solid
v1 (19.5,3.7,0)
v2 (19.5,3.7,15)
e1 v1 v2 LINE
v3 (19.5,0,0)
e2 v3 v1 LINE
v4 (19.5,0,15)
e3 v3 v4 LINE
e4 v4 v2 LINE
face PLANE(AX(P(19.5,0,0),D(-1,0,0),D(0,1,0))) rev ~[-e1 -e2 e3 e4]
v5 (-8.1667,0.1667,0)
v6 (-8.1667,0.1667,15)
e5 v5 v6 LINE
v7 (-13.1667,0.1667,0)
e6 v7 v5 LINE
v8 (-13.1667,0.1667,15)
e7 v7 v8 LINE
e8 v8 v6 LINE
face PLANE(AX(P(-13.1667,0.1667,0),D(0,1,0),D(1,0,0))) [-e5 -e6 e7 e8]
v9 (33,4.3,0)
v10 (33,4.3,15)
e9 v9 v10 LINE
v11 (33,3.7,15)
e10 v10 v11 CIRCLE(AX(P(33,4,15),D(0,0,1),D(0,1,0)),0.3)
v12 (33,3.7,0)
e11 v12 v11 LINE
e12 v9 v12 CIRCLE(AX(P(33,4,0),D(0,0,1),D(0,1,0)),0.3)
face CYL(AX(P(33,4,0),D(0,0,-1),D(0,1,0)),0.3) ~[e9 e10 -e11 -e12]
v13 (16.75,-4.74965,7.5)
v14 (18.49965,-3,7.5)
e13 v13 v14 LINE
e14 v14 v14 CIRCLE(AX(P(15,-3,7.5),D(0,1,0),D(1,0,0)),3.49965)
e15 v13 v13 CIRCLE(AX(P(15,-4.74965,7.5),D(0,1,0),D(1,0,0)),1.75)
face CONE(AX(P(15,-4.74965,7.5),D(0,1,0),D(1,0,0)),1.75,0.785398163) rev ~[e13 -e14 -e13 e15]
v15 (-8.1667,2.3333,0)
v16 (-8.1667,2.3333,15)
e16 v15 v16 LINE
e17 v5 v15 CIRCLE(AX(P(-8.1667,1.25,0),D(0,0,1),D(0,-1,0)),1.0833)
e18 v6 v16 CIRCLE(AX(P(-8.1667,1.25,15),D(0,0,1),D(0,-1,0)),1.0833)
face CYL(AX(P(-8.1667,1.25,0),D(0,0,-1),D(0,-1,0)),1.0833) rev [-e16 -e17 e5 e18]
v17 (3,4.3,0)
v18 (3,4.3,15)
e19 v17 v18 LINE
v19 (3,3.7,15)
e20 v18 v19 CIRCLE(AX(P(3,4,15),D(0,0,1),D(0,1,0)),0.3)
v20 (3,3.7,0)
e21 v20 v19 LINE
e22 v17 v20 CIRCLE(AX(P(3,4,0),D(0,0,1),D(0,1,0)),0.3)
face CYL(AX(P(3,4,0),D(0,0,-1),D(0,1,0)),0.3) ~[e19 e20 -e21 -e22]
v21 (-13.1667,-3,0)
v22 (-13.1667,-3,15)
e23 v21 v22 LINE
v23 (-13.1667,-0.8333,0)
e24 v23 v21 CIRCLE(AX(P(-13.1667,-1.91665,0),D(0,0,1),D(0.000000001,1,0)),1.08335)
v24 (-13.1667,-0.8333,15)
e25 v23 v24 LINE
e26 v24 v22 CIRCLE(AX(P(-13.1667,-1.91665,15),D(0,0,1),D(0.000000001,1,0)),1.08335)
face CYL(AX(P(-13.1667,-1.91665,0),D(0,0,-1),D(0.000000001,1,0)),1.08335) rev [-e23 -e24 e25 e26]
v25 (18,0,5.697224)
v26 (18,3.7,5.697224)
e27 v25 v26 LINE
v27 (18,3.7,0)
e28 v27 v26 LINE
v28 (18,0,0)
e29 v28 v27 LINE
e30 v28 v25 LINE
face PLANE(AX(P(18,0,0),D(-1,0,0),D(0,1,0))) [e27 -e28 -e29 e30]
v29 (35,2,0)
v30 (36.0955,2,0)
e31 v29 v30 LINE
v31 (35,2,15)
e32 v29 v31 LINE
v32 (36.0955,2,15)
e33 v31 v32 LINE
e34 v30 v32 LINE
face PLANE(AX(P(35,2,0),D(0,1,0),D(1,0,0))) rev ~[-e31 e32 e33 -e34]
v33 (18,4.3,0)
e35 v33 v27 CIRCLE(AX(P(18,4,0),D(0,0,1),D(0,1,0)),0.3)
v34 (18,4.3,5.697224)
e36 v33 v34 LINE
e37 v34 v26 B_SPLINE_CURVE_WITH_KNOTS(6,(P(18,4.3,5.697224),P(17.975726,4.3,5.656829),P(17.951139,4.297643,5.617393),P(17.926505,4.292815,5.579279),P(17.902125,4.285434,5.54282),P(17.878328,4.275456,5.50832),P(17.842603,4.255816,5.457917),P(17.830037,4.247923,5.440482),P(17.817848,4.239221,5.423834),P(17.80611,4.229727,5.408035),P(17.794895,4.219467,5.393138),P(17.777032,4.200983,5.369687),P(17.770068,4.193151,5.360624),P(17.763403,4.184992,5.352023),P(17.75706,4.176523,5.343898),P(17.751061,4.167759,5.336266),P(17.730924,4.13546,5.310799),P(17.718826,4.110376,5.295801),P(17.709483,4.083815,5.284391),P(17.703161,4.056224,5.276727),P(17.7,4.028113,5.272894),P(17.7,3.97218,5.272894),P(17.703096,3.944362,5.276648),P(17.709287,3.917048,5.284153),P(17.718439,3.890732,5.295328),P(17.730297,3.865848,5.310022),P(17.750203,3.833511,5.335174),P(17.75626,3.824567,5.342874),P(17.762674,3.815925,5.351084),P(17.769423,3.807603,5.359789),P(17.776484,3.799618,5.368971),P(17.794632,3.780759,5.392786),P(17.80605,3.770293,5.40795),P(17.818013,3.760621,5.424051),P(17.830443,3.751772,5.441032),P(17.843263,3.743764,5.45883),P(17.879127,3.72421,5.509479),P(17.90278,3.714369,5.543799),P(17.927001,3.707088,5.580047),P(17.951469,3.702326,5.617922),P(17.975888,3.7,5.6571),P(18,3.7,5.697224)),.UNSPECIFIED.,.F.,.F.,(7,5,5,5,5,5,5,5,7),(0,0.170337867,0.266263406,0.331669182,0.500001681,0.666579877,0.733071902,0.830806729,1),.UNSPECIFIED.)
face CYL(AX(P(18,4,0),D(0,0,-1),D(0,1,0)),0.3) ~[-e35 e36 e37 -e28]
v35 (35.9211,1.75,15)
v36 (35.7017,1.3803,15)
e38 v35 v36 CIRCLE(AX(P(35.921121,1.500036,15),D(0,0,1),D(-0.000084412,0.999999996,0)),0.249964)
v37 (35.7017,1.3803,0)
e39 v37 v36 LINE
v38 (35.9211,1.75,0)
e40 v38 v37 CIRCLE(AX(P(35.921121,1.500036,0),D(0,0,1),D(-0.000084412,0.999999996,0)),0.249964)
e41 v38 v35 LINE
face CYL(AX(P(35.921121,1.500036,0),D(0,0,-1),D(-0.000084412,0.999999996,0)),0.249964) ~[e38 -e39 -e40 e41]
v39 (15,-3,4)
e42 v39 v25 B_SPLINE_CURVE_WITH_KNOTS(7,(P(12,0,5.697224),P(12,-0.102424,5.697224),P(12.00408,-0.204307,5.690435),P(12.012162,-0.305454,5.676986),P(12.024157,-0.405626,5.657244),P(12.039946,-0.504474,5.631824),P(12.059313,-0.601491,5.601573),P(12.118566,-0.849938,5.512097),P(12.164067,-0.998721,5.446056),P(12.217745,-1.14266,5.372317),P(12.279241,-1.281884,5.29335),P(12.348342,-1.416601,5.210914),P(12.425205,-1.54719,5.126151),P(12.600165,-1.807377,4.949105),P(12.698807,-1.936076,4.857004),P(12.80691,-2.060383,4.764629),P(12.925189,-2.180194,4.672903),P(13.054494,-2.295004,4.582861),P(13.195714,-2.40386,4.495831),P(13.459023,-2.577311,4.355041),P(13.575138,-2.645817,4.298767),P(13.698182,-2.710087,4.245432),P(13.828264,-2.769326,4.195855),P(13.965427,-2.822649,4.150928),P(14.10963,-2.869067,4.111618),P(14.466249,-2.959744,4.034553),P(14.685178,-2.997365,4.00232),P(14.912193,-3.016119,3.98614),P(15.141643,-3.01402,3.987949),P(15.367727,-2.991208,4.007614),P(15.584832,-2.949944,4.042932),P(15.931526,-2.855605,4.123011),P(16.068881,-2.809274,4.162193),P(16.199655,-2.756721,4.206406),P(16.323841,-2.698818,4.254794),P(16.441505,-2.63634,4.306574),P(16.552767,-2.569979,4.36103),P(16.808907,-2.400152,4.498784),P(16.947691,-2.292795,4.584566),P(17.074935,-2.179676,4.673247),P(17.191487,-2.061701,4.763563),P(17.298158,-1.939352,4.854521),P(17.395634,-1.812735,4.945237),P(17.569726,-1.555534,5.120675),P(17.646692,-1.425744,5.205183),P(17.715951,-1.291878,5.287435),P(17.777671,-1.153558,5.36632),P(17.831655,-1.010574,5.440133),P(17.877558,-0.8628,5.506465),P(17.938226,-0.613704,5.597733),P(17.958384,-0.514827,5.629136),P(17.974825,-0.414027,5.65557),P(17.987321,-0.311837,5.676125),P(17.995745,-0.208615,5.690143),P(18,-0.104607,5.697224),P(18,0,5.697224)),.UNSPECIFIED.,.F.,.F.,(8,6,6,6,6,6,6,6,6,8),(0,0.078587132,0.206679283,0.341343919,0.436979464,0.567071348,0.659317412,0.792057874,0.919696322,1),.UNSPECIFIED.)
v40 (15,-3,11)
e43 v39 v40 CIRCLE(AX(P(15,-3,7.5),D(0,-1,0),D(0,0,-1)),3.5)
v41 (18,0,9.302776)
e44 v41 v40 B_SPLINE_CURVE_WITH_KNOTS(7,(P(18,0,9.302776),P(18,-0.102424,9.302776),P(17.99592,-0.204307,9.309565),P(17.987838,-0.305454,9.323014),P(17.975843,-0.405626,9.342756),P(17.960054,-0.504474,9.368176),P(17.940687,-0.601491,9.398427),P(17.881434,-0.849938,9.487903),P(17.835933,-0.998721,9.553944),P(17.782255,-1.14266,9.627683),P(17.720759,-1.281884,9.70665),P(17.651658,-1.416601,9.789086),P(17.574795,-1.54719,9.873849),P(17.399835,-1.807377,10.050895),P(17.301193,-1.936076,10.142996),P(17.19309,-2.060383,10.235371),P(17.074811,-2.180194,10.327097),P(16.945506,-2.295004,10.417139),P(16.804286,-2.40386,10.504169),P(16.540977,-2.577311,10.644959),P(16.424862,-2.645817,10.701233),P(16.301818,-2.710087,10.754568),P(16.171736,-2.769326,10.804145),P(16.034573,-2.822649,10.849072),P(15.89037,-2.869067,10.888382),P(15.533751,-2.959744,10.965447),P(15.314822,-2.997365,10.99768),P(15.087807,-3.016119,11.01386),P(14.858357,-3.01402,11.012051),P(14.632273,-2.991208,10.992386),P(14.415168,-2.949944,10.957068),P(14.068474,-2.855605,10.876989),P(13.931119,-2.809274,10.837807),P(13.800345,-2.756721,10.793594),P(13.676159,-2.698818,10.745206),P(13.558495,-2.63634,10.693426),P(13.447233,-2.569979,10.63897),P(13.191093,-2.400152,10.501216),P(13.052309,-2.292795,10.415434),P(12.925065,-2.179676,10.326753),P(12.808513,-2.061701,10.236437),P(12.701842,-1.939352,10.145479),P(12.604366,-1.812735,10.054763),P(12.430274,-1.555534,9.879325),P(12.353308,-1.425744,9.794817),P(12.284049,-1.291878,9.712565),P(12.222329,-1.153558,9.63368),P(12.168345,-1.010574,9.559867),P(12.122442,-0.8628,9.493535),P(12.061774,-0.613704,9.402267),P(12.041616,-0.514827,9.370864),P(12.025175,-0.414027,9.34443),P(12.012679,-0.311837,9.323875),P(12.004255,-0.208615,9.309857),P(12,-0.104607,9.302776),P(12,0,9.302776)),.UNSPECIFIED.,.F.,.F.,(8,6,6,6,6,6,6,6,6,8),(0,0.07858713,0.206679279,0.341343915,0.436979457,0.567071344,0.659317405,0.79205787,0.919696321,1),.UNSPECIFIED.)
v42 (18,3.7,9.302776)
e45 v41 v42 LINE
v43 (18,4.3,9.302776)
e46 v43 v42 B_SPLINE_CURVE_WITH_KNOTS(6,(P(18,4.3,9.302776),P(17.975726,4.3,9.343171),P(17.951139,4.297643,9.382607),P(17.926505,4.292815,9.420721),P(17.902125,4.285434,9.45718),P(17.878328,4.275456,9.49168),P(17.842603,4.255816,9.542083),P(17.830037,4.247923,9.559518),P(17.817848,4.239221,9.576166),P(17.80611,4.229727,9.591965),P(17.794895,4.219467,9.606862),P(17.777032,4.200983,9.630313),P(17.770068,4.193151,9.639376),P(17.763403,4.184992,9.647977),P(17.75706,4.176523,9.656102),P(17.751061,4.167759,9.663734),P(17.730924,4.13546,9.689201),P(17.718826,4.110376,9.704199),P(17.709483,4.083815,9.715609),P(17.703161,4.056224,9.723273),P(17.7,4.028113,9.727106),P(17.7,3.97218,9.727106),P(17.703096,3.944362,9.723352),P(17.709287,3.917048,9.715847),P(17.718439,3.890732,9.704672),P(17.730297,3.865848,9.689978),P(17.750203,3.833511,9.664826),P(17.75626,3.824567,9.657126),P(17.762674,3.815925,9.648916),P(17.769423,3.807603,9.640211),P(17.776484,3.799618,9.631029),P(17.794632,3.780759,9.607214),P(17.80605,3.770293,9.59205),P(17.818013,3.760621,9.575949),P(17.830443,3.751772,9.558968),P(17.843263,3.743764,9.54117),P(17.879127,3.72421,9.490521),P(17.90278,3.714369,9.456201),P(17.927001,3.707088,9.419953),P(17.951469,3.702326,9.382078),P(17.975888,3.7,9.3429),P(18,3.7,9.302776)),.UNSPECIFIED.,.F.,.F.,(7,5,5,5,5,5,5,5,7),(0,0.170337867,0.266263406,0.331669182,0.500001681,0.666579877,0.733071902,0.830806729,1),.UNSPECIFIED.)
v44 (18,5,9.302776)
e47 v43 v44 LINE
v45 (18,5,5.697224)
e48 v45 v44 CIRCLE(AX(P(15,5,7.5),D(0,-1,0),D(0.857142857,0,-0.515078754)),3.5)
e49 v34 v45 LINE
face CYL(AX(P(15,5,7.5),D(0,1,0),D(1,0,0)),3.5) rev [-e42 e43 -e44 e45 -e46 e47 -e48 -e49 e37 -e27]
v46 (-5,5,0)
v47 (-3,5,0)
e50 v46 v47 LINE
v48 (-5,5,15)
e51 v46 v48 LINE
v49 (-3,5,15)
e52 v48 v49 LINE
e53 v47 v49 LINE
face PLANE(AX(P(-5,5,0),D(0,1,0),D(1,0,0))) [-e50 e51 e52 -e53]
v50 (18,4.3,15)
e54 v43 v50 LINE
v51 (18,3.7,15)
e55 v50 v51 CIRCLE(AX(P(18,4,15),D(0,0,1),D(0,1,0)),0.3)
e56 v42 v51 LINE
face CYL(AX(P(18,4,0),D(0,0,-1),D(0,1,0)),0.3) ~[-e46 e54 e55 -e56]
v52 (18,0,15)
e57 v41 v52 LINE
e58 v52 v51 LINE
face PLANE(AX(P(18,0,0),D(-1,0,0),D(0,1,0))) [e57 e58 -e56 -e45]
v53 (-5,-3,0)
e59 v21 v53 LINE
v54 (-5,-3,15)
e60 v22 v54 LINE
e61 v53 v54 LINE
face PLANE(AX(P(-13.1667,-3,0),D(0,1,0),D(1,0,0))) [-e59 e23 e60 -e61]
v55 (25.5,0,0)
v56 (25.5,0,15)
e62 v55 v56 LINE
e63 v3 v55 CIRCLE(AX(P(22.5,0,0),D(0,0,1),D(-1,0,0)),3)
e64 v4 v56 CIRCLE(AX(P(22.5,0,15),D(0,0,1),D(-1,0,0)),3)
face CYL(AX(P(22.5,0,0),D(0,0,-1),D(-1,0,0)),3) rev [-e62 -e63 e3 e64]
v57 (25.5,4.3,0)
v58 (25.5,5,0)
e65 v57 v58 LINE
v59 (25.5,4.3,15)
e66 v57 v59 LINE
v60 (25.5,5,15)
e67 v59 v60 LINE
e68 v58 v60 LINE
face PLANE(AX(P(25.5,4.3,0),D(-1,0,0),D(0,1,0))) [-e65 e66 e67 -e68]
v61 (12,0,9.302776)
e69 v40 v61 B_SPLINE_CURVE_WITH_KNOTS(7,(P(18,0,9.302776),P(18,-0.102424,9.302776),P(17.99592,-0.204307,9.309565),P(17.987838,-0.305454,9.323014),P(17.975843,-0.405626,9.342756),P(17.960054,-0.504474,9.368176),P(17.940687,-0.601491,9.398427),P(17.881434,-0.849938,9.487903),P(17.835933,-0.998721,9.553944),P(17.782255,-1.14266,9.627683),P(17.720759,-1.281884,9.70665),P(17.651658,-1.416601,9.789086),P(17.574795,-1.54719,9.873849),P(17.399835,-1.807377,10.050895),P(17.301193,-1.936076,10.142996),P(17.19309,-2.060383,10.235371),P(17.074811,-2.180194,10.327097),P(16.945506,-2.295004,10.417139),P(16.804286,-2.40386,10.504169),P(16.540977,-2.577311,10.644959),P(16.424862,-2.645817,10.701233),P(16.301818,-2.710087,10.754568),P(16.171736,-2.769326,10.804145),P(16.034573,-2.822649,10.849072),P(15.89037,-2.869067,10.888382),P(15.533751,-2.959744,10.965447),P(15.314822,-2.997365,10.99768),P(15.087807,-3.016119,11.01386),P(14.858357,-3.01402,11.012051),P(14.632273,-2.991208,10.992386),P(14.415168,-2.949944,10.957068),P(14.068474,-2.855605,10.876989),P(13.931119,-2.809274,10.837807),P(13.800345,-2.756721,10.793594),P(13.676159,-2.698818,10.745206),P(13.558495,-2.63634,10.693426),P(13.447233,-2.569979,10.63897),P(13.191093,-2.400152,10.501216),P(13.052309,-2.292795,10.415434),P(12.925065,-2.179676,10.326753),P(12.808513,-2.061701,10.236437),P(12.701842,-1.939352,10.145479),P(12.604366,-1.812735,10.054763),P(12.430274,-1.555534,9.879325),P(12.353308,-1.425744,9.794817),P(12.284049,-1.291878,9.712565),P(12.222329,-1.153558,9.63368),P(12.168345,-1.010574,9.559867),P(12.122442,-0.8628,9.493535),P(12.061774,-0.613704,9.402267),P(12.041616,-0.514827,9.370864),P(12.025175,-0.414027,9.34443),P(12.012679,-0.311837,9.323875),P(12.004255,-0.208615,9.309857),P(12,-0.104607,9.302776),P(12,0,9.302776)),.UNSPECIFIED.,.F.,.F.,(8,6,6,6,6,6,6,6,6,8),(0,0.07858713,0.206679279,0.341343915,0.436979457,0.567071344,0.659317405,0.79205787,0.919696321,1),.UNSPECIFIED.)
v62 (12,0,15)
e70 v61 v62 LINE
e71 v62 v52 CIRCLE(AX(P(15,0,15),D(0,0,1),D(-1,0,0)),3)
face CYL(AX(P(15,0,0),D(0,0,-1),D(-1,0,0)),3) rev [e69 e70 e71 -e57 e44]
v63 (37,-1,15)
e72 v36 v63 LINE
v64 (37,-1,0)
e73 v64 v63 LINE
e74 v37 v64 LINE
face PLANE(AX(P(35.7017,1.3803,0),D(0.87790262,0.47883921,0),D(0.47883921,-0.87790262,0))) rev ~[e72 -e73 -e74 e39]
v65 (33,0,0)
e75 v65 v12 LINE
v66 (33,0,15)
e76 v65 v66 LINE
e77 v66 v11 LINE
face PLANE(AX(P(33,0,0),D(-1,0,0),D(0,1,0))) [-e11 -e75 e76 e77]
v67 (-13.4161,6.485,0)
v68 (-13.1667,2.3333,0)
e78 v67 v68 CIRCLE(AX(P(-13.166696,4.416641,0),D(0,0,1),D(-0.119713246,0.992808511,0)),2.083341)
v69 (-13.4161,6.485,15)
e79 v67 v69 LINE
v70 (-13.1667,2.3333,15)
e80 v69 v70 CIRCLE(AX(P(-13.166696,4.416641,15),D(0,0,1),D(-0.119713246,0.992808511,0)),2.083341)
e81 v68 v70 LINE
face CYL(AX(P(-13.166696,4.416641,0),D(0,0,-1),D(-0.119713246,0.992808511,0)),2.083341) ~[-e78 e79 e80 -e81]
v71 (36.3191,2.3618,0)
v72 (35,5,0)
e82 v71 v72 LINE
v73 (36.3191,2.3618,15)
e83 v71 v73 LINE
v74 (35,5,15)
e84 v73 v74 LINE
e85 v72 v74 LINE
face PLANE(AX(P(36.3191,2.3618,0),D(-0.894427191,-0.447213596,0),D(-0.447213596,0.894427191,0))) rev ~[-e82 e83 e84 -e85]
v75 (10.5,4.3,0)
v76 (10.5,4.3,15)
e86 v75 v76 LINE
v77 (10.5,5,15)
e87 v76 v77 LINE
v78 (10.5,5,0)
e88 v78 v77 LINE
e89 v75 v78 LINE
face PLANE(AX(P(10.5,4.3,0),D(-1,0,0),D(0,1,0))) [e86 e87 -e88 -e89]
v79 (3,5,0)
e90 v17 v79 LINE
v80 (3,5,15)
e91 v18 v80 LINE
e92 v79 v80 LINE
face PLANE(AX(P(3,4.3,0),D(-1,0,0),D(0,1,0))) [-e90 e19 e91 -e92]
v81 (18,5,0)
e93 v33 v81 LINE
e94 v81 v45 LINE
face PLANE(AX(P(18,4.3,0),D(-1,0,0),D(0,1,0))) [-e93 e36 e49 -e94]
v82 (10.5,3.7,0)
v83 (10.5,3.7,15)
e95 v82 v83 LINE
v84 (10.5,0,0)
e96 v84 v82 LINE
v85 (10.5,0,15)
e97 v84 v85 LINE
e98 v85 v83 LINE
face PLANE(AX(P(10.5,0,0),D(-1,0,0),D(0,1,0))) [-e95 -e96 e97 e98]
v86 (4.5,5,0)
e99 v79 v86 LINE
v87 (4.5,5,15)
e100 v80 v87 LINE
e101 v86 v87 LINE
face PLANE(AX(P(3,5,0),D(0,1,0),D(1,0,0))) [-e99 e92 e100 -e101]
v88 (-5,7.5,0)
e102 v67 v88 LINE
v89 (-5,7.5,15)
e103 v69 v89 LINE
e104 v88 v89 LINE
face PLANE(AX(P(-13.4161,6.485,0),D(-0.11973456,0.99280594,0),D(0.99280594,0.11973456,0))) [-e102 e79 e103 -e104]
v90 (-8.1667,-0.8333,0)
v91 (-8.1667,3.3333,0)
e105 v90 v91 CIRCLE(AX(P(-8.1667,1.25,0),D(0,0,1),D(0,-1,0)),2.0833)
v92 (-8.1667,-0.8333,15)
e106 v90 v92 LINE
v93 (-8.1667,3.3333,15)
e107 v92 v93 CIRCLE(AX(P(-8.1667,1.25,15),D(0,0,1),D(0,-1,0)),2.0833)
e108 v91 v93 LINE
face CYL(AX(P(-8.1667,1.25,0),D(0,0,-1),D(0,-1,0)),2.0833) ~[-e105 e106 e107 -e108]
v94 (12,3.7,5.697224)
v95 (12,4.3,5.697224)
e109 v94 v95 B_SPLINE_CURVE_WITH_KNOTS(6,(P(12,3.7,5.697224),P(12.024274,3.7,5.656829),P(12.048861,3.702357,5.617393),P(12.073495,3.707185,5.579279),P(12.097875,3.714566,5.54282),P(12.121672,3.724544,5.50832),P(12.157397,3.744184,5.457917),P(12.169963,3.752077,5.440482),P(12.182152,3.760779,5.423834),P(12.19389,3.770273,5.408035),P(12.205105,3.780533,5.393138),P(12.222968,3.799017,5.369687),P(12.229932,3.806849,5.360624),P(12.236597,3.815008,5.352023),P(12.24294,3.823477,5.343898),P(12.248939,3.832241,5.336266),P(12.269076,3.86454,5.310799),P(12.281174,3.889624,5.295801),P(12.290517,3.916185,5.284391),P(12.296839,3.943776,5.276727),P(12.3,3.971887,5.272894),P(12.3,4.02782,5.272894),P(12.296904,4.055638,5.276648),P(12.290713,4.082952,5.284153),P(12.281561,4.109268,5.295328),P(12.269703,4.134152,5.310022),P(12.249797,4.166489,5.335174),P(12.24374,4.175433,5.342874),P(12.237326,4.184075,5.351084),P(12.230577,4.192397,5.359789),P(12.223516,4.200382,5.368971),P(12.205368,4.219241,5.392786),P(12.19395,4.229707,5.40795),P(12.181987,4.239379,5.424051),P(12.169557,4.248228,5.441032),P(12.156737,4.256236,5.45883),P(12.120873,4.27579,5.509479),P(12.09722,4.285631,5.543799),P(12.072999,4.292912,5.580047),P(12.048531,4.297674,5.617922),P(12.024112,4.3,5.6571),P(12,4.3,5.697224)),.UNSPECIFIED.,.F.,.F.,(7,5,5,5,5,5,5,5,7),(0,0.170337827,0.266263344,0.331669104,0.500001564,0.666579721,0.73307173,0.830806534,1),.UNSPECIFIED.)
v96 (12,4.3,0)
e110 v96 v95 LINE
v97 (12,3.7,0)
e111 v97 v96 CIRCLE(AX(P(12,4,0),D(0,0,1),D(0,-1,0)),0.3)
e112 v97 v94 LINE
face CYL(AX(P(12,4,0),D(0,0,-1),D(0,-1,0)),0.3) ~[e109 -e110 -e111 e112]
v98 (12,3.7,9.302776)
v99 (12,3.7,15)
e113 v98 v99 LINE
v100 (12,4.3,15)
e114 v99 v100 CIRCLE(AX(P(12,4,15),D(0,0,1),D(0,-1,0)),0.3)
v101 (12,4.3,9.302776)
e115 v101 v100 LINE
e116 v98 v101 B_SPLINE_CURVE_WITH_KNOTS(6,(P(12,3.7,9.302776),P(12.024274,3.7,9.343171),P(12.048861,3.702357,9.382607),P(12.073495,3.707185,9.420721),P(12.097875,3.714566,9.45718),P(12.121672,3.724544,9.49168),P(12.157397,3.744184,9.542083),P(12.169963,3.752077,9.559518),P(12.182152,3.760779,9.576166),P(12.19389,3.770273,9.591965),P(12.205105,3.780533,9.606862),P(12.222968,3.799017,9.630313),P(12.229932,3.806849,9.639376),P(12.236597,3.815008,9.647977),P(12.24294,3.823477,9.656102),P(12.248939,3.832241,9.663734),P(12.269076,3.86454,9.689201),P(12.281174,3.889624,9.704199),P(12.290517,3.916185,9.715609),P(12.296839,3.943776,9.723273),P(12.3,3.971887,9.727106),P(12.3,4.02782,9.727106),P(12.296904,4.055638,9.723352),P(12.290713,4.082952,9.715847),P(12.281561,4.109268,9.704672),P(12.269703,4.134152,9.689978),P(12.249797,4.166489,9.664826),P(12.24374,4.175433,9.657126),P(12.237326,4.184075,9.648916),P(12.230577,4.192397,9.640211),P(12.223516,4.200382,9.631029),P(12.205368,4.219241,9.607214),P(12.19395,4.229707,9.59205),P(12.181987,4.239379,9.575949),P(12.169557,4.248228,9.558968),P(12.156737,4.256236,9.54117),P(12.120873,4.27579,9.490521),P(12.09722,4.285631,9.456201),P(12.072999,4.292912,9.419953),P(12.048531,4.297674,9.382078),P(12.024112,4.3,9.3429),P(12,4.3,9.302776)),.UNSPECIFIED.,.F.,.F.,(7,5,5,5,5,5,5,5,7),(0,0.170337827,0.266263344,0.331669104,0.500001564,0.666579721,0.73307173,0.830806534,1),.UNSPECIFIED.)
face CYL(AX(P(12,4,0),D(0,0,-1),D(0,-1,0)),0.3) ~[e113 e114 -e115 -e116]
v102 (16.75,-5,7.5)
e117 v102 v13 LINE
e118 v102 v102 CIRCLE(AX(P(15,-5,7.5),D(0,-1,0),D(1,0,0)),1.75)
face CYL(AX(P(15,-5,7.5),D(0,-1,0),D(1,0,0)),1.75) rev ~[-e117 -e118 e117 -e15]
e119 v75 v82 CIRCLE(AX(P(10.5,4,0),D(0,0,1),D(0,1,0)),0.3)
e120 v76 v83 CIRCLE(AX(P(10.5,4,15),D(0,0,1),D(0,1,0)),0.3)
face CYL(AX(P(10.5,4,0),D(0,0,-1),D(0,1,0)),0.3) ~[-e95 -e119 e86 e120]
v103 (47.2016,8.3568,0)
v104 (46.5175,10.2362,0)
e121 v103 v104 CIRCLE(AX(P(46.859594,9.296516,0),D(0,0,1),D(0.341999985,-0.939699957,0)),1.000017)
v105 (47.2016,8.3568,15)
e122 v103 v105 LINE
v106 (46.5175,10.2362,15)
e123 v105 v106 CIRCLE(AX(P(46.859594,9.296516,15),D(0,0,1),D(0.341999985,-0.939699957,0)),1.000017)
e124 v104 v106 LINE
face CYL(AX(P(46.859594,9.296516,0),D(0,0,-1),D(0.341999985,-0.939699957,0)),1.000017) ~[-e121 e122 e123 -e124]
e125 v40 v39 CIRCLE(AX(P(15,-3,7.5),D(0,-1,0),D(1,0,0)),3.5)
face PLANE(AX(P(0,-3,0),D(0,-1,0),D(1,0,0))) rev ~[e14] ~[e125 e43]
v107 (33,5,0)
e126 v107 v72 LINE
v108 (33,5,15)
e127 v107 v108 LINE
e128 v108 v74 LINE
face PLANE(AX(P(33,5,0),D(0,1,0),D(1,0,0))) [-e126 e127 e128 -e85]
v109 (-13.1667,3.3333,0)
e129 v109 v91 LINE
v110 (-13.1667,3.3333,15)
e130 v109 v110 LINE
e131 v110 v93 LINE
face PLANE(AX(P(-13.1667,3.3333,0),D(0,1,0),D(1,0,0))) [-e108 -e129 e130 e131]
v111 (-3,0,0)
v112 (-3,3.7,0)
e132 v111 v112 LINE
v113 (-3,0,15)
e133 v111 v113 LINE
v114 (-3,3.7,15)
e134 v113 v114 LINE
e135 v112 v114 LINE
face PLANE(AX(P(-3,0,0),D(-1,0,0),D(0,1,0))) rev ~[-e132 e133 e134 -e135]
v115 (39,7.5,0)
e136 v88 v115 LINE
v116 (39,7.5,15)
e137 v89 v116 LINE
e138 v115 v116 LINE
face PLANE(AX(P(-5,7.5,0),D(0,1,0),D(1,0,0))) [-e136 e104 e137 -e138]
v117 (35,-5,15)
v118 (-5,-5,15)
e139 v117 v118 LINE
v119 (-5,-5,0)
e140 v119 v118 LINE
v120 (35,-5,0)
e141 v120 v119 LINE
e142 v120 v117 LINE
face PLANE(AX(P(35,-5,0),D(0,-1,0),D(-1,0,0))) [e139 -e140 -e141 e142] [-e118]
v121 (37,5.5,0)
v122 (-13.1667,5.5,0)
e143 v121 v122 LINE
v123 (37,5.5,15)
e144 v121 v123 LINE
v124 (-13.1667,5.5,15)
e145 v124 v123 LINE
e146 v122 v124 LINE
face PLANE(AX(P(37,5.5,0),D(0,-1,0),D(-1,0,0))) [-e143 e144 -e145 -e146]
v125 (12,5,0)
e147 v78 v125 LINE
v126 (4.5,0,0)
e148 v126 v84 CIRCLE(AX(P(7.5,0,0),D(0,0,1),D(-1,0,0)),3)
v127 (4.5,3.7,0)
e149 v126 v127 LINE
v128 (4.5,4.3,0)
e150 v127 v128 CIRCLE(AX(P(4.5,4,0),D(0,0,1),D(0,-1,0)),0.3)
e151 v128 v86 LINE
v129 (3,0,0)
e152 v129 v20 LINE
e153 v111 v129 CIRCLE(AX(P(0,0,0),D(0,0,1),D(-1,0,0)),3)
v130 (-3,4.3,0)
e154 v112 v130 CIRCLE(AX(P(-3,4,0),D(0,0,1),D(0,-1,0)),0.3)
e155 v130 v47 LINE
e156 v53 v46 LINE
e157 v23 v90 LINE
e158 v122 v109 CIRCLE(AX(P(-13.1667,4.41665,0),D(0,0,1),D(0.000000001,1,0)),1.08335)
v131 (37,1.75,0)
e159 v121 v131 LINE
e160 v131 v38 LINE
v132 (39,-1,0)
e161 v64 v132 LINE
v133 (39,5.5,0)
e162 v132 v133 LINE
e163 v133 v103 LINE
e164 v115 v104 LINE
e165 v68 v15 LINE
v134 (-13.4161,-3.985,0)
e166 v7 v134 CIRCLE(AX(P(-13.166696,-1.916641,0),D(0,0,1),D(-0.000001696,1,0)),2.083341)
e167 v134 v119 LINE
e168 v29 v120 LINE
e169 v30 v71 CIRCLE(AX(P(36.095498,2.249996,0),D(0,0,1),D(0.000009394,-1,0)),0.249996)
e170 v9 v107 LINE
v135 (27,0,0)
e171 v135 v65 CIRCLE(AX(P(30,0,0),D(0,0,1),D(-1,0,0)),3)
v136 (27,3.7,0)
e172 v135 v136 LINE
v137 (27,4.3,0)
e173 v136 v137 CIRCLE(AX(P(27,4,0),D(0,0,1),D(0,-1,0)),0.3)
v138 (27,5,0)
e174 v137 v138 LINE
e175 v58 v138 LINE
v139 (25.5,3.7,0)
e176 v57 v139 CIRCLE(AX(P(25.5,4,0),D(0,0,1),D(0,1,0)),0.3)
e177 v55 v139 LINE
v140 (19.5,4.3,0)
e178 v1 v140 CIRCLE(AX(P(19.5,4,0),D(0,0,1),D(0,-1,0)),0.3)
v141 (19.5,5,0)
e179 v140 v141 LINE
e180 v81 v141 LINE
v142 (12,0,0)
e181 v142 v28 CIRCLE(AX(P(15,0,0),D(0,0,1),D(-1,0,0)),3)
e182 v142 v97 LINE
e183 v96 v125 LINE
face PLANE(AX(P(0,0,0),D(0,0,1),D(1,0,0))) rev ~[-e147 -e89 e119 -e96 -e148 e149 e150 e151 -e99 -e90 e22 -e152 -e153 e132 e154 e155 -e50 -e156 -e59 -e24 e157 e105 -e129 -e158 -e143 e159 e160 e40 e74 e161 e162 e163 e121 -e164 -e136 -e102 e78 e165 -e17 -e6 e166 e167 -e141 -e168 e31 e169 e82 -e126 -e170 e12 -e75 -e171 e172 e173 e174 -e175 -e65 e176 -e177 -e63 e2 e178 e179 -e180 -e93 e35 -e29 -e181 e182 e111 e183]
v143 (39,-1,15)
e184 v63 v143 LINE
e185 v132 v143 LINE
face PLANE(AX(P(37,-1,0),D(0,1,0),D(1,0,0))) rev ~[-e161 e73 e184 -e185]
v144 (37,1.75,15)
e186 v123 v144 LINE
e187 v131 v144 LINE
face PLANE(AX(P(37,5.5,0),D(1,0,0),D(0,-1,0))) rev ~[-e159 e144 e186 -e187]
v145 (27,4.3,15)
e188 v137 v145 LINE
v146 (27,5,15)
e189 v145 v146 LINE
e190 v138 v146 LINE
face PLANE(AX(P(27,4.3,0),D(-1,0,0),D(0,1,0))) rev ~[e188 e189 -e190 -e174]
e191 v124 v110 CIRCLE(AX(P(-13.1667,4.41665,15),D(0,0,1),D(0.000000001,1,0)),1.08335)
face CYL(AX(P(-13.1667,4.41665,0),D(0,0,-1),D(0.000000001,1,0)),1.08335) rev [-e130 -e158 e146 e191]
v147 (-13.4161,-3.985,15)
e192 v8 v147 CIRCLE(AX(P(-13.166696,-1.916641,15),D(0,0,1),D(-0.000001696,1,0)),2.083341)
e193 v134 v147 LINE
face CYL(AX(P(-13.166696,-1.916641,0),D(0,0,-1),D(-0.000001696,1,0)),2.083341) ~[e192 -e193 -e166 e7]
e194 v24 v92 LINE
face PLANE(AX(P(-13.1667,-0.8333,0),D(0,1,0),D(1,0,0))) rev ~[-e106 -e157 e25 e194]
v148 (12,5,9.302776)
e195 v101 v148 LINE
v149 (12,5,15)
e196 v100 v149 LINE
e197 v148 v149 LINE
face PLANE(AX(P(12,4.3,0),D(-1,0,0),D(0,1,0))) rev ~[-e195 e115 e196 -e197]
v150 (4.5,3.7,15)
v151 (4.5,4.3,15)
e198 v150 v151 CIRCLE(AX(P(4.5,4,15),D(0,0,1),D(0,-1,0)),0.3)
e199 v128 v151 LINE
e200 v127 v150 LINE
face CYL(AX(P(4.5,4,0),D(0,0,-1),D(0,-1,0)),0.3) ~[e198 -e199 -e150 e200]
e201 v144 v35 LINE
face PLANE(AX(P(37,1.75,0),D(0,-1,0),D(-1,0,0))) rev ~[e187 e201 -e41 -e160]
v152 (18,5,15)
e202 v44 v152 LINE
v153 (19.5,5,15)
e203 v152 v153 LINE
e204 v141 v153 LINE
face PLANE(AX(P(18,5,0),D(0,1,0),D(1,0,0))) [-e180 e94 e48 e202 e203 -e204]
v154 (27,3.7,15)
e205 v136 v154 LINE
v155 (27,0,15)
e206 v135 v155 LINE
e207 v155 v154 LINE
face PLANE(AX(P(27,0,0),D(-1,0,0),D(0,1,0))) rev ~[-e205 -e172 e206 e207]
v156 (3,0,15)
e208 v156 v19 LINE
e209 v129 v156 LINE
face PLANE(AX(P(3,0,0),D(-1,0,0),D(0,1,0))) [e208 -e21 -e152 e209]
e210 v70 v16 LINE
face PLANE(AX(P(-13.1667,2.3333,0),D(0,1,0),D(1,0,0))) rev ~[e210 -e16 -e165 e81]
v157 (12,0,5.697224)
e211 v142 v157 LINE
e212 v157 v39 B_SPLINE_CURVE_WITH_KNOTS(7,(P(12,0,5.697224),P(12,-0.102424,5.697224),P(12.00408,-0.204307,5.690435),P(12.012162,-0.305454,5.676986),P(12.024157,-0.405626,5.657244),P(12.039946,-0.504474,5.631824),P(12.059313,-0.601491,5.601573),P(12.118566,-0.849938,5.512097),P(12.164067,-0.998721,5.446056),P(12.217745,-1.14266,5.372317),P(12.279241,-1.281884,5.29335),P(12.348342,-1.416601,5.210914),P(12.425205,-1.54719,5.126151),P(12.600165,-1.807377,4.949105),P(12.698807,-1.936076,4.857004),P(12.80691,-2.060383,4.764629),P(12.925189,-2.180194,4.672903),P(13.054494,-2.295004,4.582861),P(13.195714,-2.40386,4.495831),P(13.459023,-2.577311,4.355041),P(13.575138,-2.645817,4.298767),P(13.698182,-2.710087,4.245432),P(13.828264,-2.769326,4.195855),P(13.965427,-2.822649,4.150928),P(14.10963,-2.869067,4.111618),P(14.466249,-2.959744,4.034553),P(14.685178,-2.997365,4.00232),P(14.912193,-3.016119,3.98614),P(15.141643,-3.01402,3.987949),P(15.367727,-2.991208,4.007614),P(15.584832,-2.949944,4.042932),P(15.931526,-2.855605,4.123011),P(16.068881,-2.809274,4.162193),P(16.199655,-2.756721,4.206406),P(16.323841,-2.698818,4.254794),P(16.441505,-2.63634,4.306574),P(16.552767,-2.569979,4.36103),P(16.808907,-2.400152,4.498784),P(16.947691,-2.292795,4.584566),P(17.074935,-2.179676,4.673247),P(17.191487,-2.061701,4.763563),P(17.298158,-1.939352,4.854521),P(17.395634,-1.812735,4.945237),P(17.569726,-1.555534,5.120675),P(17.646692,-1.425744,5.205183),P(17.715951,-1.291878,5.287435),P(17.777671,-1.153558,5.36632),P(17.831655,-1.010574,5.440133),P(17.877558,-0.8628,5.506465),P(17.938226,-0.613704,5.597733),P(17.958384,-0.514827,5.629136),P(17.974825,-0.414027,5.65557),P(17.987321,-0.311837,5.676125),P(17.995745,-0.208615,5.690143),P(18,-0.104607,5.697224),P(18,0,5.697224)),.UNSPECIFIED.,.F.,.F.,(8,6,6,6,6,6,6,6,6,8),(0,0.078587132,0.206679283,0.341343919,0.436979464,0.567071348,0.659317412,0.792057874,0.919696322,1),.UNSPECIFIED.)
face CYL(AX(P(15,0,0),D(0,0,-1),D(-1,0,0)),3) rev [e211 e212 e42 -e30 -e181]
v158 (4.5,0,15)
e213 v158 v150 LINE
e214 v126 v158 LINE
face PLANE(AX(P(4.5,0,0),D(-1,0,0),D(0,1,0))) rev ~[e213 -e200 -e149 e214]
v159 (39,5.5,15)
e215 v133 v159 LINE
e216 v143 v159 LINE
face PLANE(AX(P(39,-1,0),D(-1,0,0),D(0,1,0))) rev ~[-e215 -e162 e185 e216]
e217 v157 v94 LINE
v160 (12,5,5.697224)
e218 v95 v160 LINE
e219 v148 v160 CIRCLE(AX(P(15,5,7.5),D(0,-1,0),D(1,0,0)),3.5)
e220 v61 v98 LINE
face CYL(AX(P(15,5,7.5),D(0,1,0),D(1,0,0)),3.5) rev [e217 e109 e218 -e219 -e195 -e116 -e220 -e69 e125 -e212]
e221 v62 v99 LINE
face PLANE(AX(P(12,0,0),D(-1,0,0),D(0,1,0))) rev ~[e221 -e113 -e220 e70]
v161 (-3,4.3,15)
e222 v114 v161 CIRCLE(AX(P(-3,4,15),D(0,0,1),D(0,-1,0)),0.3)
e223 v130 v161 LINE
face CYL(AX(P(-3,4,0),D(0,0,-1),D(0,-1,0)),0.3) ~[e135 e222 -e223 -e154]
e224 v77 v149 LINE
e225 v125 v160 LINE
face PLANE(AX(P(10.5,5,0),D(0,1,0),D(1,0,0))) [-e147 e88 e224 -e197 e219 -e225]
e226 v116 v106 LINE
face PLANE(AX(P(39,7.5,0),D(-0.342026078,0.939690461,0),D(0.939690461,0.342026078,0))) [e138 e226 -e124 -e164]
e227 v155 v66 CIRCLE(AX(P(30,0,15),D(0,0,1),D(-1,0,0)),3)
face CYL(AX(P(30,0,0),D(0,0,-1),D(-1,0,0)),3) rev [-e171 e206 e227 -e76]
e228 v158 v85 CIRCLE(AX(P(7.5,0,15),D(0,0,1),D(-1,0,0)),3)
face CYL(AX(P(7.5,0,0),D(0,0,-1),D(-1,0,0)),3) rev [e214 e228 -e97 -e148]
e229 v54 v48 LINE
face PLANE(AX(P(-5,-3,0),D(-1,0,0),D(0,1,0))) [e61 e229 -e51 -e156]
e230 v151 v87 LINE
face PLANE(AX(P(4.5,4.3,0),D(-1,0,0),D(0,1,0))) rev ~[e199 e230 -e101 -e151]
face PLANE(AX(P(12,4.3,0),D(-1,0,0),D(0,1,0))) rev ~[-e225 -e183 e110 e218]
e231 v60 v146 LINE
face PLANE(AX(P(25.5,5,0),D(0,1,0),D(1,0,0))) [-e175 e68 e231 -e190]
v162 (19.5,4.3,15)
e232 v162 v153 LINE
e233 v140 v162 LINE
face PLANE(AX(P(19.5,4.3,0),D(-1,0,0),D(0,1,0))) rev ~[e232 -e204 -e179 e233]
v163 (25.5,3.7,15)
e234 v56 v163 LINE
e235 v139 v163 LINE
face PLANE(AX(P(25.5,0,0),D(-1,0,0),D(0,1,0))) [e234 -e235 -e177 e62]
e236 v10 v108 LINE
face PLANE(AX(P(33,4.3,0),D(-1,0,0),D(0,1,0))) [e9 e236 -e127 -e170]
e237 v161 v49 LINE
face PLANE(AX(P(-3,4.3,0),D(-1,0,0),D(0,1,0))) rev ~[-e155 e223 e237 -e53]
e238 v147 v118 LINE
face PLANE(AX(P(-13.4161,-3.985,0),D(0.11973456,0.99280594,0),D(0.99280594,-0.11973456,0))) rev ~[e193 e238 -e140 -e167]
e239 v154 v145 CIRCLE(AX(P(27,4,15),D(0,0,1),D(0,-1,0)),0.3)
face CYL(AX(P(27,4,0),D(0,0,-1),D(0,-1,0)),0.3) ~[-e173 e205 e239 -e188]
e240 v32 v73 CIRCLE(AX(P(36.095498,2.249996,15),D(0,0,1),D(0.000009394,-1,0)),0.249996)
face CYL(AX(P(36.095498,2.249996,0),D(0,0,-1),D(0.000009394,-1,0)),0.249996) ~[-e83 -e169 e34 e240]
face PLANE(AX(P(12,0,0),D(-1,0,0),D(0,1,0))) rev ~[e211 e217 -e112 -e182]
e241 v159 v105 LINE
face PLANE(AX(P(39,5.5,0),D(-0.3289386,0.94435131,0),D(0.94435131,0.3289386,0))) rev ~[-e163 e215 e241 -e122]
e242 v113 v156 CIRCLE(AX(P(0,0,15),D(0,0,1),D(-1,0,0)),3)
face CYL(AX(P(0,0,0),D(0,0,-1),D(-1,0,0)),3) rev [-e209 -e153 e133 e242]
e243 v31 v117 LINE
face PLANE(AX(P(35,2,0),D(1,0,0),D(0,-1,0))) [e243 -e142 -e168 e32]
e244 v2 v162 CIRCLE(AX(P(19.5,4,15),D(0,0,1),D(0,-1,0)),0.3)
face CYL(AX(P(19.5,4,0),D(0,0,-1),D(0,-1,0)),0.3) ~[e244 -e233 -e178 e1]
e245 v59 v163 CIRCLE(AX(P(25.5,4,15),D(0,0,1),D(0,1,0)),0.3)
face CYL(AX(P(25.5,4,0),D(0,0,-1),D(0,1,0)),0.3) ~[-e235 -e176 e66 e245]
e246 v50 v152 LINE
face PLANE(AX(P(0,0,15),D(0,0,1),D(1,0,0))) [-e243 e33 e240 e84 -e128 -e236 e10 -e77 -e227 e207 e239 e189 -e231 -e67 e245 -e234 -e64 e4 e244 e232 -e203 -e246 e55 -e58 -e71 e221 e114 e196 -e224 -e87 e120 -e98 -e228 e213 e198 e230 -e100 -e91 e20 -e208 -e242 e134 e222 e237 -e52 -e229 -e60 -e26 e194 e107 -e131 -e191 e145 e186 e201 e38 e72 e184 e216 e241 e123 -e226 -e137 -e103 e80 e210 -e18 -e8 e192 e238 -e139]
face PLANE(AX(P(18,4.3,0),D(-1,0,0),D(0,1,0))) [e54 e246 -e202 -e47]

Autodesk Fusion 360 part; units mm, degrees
sketch "Sketch1" plane through (0, 0, 0) normal (0, 0, 1) x (1, 0, 0)
  line L0 (-5, 5) -> (35, 5)
  line L1 (35, 5) -> (35, -5)
  line L2 (35, -5) -> (-5, -5)
  line L3 (-5, -5) -> (-5, 5)
  arc A0 (-3, 0) -> (3, 0) centre (0, 0) ccw
  arc A1 (-3, 3.7) -> (-3, 4.3) centre (-3, 4) ccw
  arc A2 (3, 4.3) -> (3, 3.7) centre (3, 4) ccw
  line L4 (-3, 0) -> (-3, 3.7)
  line L5 (-3, 4.3) -> (-3, 5)
  line L6 (3, 0) -> (3, 3.7)
  line L7 (3, 4.3) -> (3, 5)
  line L8 (4.5, 4.3) -> (4.5, 5)
  arc A3 (4.5, 3.7) -> (4.5, 4.3) centre (4.5, 4) ccw
  line L9 (4.5, 0) -> (4.5, 3.7)
  arc A4 (4.5, 0) -> (10.5, 0) centre (7.5, 0) ccw
  line L10 (10.5, 0) -> (10.5, 3.7)
  arc A5 (10.5, 4.3) -> (10.5, 3.7) centre (10.5, 4) ccw
  line L11 (10.5, 4.3) -> (10.5, 5)
  line L12 (12, 4.3) -> (12, 5)
  arc A6 (12, 3.7) -> (12, 4.3) centre (12, 4) ccw
  line L13 (12, 0) -> (12, 3.7)
  arc A7 (12, 0) -> (18, 0) centre (15, 0) ccw
  line L14 (18, 0) -> (18, 3.7)
  arc A8 (18, 4.3) -> (18, 3.7) centre (18, 4) ccw
  line L15 (18, 4.3) -> (18, 5)
  line L16 (19.5, 4.3) -> (19.5, 5)
  arc A9 (19.5, 3.7) -> (19.5, 4.3) centre (19.5, 4) ccw
  line L17 (19.5, 0) -> (19.5, 3.7)
  arc A10 (19.5, 0) -> (25.5, 0) centre (22.5, 0) ccw
  line L18 (25.5, 0) -> (25.5, 3.7)
  arc A11 (25.5, 4.3) -> (25.5, 3.7) centre (25.5, 4) ccw
  line L19 (25.5, 4.3) -> (25.5, 5)
  line L20 (27, 4.3) -> (27, 5)
  arc A12 (27, 3.7) -> (27, 4.3) centre (27, 4) ccw
  line L21 (27, 0) -> (27, 3.7)
  arc A13 (27, 0) -> (33, 0) centre (30, 0) ccw
  line L22 (33, 0) -> (33, 3.7)
  arc A14 (33, 4.3) -> (33, 3.7) centre (33, 4) ccw
  line L23 (33, 4.3) -> (33, 5)
  line L24 (39, 5.5) -> (-5, 5.5)
  line L25 (-5, 5.5) -> (-5, 7.5) construction
  line L26 (-5, 7.5) -> (39, 7.5)
  line L27 (39, 7.5) -> (39, 5.5) construction
  line L28 (-13.1667, -0.8333) -> (-8.1667, -0.8333)
  line L29 (-13.1667, 0.1667) -> (-8.1667, 0.1667)
  line L30 (-13.1667, 2.3333) -> (-8.1667, 2.3333)
  line L31 (-13.1667, 3.3333) -> (-8.1667, 3.3333)
  line L32 (-13.4161, -3.985) -> (-5, -5)
  line L33 (-13.1667, 5.5) -> (-5, 5.5)
  line L34 (-13.1667, -3) -> (-5, -3)
  line L35 (-13.4161, 6.485) -> (-5, 7.5)
  arc A15 (-13.1667, 5.5) -> (-13.1667, 3.3333) centre (-13.1667, 4.4167) ccw
  arc A16 (-8.1667, 0.1667) -> (-8.1667, 2.3333) centre (-8.1667, 1.25) ccw
  arc A17 (-13.1667, -0.8333) -> (-13.1667, -3) centre (-13.1667, -1.9167) ccw
  arc A18 (-13.1667, 0.1667) -> (-13.4161, -3.985) centre (-13.1667, -1.9167) ccw
  arc A19 (-8.1667, -0.8333) -> (-8.1667, 3.3333) centre (-8.1667, 1.25) ccw
  arc A20 (-13.4161, 6.485) -> (-13.1667, 2.3333) centre (-13.1667, 4.4167) ccw
  line L36 (39, 7.5) -> (46.5175, 10.2362)
  line L37 (46.5175, 10.2362) -> (47.2016, 8.3568) construction
  arc A21 (47.2016, 8.3568) -> (46.5175, 10.2362) centre (46.8596, 9.2965) ccw
  line L38 (39, 5.5) -> (47.2016, 8.3568)
  line L39 (39, 5.5) -> (37, 5.5) construction
  line L40 (37, 5.5) -> (37, -1)
  line L41 (37, -1) -> (39, -1)
  line L42 (39, -1) -> (39, 5.5)
  line L43 (35, 2) -> (36.0955, 2)
  line L44 (37, 1.75) -> (35.9211, 1.75)
  line L45 (35.7017, 1.3803) -> (37, -1)
  line L46 (36.3191, 2.3618) -> (35, 5)
  arc A22 (35.9211, 1.75) -> (35.7017, 1.3803) centre (35.9211, 1.5) ccw
  arc A23 (36.0955, 2) -> (36.3191, 2.3618) centre (36.0955, 2.25) ccw
  point P0 (36.5, 2)
  point P1 (35.5, 1.75)
  dimension "d5" = 6
  dimension "d11" = 5
  dimension "d12" = 5
  dimension "d13" = 5
  dimension "d14" = 35
  dimension "d15" = 0.6
  dimension "d16" = 1
  dimension "d17" = 0.6
  dimension "d18" = 1
  dimension "d21" = 7.5
  dimension "d22" = 0
  dimension "d23" = 2
  dimension "d24" = 0.5
  dimension "d25" = 40
  dimension "d26" = 44
  dimension "d28" = 2.1667
  dimension "d29" = 2.1667
  dimension "d30" = 2.1667
  dimension "d31" = 3.0833
  dimension "d33" = 3.1667
  dimension "d34" = 3.1667
  dimension "d35" = 8.1667
  dimension "d36" = 8.1667
  dimension "d37" = 3.1667
  dimension "d38" = 4.1667
  dimension "d39" = 4.1667
  dimension "d40" = 4.1667
  dimension "d41" = 8
  dimension "d43" = 160
  dimension "d45" = 2
  dimension "d46" = 90
  dimension "d48" = 2
  dimension "d49" = 6.5
  dimension "d50" = 1.5
  dimension "d51" = 3
  dimension "d52" = 1.5
  dimension "d53" = 2.75
  dimension "d55" = 0.25
  dimension "d56" = 0.25
extrude "Extrude1" add sketch "Sketch1" along normal blind 15 contours L0 L1 L2 L3 A0 A1 A2 L4 L5 L6 L7 L8 A3 L9 A4 L10 A5 L11 L12 A6 L13 A7 L14 A8 L15 L16 A9 L17 A10 L18 A11 L19 L20 A12 L21 A13 L22 A14 L23 | L3 L24 L26 L28 L29 L30 L31 L32 L33 L34 L35 A15 A16 A17 A18 A19 A20 L36 A21 L38 | L1 L43 L46 A23 | L24 L40 L41 L42 | L40 L44 L45 A22
sketch "Sketch2" plane through (0, -5, 0) normal (0, -1, 0) x (1, 0, 0)
  line L0 (-5, 0) -> (35, 0)
  line L1 (35, 0) -> (35, 15)
  line L2 (35, 15) -> (-5, 15)
  line L3 (-5, 15) -> (-5, 0)
  circle A0 centre (15, 7.5) radius 1.75
  line L4 (-5, 15) -> (35, 0) construction
  line L5 (-5, 0) -> (35, 15) construction
  circle A1 centre (15, 7.5) radius 3.5
  dimension "d60" = 3.5
  dimension "d63" = 7
extrude "Extrude2" cut sketch "Sketch2" against normal blind 5 contours A0
extrude "Extrude3" cut sketch "Sketch2" along normal blind -2 and the other way blind 10 contours A1
chamfer "Chamfer1" distance 1.75 angle 45 1 edges at (13.3684, -3, 8.1328)
equation "Diameter = 6 mm"
equation "HolesSpacing = 1.5 mm"
equation "NotchSize = 0.3 mm"
equation "HolesNumber = 5"
equation "d5 = Diameter"
equation "Thickness = 2 mm"
equation "d11 = Diameter / 2 + Thickness"
equation "d12 = Diameter / 2 + Thickness"
equation "d13 = Diameter / 2 + Thickness"
equation "d14 = ( Diameter + HolesSpacing ) * HolesNumber - ( Diameter / 2 ) + Thickness - HolesSpacing"
equation "d15 = NotchSize * 2"
equation "d16 = Thickness / 2"
equation "d17 = NotchSize * 2"
equation "d18 = Thickness / 2"
equation "d19 = HolesNumber"
equation "d21 = Diameter + HolesSpacing"
equation "d23 = Thickness"
equation "d24 = Spacing"
equation "d26 = d25 + Thickness * 2"
equation "d28 = d30"
equation "d29 = d30"
equation "d30 = ( Thickness + Diameter + Spacing - Thickness ) / 3"
equation "d31 = d30 / 2 + Thickness"
equation "d33 = d30 + Thickness / 2"
equation "d34 = d30 + Thickness / 2"
equation "d35 = d30 + Diameter"
equation "d36 = d30 + Diameter"
equation "d37 = d30 + Thickness / 2"
equation "d38 = d30 + Thickness"
equation "d39 = d30 + Thickness"
equation "d40 = d30 + Thickness"
equation "d41 = Diameter + Thickness"
equation "d45 = Thickness"
equation "Spacing = 0.5 mm"
equation "d48 = Thickness"
equation "d49 = Diameter + Spacing"
equation "d50 = Thickness * 3 / 4"
equation "d51 = Diameter / 2"
equation "d52 = Thickness * 3 / 4"
equation "d53 = Diameter / 2 - Spacing / 2"
equation "Fillet = 0.25 mm"
equation "d55 = Fillet"
equation "d56 = Fillet"
equation "d57 = Width"
equation "Width = 15 mm"
equation "d60 = ScrewThread"
equation "ScrewThread = 3.5 mm"
equation "ScrewHead = 7 mm"
equation "d63 = ScrewHead"
equation "d64 = -Thickness - Diameter / 2"
equation "d66 = -Thickness"
equation "d68 = 2 * Thickness + Diameter"
equation "d70 = Thickness * 3.5 / 4"
